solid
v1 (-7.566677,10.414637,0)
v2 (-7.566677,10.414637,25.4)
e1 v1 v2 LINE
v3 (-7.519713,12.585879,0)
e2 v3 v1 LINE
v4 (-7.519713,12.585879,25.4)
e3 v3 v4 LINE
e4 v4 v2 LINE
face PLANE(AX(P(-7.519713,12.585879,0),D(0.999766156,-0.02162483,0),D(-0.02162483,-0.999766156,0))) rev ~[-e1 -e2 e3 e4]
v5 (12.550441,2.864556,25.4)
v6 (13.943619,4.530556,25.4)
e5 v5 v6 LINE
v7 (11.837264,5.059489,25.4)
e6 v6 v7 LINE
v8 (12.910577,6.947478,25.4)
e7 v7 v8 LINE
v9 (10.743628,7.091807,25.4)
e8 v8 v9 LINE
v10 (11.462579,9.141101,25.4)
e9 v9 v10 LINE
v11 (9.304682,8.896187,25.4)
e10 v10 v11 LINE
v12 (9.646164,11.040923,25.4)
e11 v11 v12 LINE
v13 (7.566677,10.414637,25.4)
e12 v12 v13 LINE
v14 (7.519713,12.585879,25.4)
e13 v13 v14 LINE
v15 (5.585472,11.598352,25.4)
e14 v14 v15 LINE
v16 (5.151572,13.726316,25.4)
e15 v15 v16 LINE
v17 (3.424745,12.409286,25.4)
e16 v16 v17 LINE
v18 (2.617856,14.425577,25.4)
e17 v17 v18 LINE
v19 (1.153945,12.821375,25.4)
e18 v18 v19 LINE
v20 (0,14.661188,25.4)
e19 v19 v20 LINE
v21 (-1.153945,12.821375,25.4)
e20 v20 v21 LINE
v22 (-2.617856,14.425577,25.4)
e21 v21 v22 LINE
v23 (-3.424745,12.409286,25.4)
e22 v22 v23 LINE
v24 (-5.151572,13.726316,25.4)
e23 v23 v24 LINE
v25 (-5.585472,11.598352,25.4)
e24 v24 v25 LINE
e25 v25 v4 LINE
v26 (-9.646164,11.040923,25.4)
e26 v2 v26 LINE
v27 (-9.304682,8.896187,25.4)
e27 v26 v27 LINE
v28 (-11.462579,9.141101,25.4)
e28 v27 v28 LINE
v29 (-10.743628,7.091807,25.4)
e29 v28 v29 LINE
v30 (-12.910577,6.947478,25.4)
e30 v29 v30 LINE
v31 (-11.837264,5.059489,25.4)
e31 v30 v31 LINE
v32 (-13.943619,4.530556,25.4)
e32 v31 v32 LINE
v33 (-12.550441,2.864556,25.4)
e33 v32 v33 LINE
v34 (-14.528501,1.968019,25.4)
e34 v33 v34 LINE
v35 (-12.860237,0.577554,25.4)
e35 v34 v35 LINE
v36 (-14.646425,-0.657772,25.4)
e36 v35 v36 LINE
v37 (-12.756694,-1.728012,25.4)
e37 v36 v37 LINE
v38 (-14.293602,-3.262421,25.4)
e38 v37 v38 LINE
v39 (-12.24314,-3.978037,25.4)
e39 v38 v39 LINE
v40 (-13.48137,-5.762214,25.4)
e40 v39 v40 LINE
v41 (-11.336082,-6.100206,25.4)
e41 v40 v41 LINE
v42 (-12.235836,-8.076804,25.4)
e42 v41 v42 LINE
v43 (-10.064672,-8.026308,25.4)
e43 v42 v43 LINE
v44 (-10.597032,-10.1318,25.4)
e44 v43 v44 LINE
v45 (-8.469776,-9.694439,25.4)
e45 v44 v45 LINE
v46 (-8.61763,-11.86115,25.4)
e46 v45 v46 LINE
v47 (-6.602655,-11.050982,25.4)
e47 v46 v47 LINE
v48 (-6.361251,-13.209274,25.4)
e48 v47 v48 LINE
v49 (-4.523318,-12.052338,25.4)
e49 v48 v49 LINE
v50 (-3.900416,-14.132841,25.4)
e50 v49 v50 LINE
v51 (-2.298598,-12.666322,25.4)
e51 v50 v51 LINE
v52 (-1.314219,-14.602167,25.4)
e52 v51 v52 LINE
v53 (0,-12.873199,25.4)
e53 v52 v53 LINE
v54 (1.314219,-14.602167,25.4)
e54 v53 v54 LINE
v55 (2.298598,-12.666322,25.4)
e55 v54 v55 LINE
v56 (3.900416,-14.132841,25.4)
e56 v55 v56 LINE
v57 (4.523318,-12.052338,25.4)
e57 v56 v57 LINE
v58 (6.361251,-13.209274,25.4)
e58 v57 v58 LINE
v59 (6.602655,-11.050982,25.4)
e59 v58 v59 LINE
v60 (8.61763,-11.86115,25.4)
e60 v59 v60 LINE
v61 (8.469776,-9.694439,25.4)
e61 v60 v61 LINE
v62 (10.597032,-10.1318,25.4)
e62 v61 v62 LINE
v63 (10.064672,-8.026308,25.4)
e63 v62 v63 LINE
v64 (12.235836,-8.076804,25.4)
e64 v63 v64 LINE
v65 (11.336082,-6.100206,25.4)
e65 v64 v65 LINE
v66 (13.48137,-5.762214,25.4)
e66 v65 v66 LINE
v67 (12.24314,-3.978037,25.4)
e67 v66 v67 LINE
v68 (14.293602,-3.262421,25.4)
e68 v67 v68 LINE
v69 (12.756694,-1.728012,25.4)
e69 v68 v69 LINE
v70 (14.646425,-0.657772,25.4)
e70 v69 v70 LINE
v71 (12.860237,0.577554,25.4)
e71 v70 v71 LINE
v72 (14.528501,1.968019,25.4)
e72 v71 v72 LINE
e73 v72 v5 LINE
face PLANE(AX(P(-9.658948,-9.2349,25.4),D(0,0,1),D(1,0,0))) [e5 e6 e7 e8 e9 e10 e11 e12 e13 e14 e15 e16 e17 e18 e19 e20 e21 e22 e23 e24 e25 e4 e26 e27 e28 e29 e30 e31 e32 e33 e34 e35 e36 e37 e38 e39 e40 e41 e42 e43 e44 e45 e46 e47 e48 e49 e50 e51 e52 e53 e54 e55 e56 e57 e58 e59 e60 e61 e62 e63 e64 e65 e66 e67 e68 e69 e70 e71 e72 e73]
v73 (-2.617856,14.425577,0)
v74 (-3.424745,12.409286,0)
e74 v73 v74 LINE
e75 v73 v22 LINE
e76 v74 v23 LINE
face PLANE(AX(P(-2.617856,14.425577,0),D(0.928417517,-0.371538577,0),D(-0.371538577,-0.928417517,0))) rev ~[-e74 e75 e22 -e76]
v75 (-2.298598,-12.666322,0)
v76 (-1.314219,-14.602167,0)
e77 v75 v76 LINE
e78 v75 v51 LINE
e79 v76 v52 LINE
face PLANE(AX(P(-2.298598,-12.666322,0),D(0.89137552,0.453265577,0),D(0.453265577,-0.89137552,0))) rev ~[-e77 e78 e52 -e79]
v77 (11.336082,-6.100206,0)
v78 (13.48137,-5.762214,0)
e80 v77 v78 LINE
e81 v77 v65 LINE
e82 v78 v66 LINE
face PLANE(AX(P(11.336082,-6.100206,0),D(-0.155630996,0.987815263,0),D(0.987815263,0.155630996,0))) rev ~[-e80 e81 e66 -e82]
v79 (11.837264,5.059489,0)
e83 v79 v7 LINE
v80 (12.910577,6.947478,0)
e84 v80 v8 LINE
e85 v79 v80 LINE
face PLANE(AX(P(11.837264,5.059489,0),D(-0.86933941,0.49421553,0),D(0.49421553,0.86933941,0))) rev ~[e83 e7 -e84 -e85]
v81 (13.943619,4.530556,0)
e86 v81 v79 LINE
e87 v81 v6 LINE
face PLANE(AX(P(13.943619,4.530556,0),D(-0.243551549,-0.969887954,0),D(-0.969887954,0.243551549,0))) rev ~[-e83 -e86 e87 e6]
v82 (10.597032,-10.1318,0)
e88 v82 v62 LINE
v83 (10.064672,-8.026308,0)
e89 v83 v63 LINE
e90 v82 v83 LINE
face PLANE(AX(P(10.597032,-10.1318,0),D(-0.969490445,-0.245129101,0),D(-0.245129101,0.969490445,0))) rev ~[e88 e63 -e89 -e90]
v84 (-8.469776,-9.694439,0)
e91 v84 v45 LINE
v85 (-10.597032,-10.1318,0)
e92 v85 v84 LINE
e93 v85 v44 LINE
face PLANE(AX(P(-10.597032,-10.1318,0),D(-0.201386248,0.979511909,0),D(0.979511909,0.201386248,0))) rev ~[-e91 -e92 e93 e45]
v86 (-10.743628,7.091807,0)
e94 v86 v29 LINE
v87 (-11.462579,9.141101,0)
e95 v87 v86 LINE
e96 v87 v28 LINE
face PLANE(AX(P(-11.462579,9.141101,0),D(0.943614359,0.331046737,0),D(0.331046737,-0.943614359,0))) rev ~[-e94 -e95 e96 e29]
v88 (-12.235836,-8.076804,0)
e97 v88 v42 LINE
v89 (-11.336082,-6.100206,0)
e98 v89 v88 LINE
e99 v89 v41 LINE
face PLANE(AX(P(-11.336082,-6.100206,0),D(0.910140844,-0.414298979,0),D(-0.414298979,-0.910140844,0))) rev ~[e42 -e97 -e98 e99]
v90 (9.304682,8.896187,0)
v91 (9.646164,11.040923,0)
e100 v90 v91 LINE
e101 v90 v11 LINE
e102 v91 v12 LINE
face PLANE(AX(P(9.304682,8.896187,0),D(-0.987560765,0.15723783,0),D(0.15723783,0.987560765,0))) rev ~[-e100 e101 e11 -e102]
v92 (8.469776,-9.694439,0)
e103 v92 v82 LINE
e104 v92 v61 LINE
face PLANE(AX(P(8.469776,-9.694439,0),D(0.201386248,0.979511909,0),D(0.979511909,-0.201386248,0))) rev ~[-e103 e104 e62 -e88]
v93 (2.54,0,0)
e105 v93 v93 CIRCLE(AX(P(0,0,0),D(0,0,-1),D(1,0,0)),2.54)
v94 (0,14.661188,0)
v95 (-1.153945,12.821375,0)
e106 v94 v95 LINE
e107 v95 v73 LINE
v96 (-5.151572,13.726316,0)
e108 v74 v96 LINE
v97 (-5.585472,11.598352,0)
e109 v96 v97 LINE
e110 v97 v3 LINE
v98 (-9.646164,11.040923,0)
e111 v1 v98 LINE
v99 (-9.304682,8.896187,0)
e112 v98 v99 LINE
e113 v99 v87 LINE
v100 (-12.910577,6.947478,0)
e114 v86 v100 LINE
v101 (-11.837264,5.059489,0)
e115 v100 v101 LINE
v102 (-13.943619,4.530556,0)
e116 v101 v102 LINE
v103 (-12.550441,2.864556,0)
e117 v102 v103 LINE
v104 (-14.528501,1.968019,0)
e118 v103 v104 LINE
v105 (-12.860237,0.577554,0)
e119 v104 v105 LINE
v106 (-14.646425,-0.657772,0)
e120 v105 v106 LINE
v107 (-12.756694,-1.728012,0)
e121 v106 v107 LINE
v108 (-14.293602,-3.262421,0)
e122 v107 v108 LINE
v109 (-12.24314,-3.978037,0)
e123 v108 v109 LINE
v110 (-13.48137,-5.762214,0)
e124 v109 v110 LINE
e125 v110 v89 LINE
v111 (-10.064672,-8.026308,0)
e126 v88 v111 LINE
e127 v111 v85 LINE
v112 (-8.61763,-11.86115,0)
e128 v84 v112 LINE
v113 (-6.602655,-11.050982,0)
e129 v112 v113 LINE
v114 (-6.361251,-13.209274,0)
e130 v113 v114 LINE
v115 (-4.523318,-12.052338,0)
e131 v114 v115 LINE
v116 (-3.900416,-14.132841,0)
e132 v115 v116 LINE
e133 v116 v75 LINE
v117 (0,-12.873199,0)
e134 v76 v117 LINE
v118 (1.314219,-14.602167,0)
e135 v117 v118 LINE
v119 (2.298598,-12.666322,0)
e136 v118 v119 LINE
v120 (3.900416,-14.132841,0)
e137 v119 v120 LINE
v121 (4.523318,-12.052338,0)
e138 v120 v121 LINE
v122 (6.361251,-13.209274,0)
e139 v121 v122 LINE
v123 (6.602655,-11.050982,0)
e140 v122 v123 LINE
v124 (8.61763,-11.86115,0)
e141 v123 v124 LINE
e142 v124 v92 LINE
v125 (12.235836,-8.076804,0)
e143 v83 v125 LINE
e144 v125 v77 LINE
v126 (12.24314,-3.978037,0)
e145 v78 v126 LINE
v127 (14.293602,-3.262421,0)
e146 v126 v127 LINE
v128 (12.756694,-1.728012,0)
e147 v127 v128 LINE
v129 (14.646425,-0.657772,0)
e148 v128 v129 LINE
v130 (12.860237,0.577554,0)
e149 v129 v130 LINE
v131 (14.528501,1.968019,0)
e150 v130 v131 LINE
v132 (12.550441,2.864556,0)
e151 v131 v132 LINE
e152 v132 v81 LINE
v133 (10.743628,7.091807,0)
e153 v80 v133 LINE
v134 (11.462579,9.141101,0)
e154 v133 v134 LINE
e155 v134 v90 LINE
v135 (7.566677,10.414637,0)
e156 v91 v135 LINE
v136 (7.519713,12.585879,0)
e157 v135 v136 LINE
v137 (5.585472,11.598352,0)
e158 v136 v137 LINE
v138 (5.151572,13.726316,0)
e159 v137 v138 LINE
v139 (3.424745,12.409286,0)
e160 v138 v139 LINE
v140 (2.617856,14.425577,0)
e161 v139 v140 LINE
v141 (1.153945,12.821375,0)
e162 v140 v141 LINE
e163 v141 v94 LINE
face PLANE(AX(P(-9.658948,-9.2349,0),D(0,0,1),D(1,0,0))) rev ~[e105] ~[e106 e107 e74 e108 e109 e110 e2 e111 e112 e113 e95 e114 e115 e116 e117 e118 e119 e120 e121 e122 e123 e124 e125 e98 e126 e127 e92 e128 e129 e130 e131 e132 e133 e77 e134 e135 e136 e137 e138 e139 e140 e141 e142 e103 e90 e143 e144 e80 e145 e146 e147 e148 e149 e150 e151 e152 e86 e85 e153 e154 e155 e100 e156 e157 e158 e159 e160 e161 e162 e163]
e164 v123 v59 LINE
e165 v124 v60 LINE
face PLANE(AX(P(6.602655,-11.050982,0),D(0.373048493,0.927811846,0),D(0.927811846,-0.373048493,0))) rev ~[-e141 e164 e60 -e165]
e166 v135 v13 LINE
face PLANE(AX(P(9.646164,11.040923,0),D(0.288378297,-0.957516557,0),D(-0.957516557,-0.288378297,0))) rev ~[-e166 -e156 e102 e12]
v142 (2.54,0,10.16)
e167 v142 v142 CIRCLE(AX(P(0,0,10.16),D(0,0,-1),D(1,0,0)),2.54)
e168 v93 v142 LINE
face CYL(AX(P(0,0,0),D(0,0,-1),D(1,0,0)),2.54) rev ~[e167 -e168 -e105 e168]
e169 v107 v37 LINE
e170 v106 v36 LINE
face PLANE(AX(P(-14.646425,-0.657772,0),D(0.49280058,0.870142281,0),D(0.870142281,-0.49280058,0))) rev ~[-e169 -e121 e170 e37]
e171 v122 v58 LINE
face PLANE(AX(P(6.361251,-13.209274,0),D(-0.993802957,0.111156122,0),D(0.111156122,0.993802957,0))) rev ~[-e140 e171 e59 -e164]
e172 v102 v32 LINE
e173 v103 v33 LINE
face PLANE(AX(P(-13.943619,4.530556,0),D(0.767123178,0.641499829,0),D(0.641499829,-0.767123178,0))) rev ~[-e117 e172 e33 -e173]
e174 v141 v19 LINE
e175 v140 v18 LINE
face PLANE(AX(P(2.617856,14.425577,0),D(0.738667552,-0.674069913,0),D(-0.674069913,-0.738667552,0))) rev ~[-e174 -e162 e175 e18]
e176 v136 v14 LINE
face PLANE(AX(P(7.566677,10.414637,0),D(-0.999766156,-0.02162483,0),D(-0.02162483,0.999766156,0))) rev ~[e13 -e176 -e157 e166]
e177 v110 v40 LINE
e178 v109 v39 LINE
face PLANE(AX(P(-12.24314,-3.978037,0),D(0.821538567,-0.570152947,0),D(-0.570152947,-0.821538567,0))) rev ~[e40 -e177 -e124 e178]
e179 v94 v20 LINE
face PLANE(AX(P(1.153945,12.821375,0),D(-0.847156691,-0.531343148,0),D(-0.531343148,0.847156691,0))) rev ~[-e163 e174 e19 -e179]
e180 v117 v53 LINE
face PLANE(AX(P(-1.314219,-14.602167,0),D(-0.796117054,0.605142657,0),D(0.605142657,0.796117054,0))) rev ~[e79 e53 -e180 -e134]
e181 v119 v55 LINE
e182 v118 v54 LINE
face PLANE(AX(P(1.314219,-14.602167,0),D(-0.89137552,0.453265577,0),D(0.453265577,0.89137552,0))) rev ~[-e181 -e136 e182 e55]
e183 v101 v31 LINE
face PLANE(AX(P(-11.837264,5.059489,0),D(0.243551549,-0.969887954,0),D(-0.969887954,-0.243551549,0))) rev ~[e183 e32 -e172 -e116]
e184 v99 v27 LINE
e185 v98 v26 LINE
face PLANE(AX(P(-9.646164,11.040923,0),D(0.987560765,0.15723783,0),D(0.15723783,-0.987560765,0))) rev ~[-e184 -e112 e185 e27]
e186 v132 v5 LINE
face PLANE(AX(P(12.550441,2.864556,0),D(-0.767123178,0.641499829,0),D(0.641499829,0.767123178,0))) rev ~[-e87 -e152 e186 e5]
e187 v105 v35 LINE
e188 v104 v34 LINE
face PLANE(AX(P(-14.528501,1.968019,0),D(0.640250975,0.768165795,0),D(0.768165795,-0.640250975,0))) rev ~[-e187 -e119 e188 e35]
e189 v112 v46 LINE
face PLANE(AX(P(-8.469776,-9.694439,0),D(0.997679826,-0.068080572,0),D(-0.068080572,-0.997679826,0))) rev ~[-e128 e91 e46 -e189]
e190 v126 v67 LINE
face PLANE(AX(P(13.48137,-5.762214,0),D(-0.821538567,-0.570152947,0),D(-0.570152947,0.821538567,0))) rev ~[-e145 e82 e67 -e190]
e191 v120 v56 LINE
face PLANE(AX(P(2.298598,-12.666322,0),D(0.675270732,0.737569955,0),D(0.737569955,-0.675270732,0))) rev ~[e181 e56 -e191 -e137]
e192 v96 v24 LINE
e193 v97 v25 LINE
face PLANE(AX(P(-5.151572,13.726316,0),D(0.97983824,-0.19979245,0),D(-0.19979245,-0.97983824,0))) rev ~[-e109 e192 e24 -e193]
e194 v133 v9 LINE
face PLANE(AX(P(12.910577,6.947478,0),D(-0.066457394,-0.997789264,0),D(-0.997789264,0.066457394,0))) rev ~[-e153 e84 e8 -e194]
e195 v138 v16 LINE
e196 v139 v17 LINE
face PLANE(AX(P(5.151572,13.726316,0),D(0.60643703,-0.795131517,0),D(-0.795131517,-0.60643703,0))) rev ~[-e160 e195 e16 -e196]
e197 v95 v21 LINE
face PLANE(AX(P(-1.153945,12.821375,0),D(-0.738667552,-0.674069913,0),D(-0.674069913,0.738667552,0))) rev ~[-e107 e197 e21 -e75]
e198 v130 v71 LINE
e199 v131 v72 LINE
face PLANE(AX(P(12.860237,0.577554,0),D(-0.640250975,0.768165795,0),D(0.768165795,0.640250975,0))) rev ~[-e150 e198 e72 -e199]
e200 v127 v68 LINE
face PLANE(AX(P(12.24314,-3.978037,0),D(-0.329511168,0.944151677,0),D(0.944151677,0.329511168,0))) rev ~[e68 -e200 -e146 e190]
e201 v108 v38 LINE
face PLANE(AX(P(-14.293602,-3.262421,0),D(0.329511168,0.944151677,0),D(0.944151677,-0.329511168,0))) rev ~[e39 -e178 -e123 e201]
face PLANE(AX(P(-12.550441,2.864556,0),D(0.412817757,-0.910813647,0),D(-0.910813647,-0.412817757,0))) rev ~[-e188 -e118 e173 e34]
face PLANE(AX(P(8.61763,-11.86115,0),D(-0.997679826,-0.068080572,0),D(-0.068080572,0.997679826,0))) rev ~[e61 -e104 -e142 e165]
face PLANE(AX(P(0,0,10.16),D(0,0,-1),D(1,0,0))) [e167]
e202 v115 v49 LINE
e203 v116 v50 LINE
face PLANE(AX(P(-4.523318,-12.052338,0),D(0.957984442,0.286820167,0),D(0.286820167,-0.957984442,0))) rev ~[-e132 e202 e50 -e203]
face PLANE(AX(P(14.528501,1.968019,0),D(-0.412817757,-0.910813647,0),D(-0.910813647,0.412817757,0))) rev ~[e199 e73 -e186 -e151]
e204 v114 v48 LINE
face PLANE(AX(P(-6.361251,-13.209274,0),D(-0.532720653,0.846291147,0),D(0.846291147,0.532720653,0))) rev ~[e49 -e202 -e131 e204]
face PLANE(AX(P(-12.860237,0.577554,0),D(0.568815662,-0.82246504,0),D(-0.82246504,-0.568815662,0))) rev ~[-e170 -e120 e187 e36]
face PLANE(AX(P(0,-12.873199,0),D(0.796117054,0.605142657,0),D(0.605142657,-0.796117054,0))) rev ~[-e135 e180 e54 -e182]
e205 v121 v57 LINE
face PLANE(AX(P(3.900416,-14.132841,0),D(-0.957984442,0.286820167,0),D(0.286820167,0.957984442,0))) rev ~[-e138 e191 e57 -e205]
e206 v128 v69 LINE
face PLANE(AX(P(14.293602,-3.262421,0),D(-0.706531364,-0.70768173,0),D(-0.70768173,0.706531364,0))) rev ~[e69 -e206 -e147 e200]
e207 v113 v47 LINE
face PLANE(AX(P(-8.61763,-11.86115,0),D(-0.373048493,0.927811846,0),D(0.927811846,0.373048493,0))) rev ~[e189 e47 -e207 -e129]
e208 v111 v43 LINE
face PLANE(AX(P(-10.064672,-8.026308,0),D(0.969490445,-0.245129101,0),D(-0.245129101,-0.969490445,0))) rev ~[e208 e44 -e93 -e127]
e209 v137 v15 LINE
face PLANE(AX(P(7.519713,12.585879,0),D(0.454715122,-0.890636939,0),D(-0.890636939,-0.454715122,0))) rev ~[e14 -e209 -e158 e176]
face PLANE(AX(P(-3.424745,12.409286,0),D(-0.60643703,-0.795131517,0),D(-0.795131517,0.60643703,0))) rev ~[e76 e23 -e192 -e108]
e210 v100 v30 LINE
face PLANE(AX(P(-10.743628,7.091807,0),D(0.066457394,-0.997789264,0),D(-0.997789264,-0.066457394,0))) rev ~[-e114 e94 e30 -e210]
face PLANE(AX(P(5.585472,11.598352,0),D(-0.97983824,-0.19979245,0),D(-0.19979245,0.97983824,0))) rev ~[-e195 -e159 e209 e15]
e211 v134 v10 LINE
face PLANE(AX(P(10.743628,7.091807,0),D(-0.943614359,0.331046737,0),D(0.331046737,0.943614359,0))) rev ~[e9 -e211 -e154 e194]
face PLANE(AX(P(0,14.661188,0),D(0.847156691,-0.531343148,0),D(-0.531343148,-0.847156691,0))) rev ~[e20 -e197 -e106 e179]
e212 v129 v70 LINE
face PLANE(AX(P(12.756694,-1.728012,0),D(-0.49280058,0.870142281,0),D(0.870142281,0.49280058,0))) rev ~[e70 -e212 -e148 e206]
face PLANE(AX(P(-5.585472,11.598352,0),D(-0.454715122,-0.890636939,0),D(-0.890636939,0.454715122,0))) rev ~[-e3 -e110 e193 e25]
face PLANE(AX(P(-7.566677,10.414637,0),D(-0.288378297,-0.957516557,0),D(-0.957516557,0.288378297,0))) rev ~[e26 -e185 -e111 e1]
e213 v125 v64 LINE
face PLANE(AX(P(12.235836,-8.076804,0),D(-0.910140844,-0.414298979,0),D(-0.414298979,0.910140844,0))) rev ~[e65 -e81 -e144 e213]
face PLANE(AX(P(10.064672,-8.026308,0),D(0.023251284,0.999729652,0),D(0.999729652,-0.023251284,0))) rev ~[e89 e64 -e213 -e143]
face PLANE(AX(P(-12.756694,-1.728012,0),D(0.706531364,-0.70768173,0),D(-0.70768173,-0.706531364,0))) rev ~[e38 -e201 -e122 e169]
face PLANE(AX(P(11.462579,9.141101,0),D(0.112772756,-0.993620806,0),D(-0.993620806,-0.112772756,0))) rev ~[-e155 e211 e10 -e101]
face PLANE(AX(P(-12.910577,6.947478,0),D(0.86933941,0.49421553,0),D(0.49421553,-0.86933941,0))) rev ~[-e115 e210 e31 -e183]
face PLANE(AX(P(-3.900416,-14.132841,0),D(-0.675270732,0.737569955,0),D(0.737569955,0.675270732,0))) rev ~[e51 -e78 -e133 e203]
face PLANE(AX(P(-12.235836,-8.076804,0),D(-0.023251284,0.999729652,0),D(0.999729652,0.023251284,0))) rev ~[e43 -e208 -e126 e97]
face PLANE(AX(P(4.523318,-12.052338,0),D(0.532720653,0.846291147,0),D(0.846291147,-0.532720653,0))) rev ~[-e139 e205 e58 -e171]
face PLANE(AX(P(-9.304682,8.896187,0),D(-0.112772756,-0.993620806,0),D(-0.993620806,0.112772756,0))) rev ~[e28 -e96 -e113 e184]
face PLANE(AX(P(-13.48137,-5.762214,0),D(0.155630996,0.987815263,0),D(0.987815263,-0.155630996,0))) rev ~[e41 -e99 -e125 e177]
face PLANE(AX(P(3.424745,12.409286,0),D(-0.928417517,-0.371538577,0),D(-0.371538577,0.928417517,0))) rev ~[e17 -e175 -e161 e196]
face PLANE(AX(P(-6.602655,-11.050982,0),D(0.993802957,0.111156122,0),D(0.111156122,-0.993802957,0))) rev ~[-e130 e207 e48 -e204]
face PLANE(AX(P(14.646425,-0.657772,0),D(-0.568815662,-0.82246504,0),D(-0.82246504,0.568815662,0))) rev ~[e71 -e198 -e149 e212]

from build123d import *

# Parameters (mm, degrees)
F1_DEPTH = 25.4
F2_R     = 2.54
F3_DEPTH = 10.16


with BuildPart() as f1:
    # F0 (on Top) → F1 (new body)
    with BuildSketch(Plane.XY):
        with BuildLine():
            Line((-8.4697762195, -9.6944389239), (-8.4549061431, -9.4765269014))
            ThreePointArc((-8.4549061431, -9.4765269014), (-9.1794947706, -8.7764956421), (-9.8463125991, -8.0212298434))
            Line((-9.8463125991, -8.0212298434), (-10.0646723422, -8.0263083607))
            Line((-10.0646723422, -8.0263083607), (-10.5970315556, -10.1317995806))
            Line((-10.5970315556, -10.1317995806), (-8.4697762195, -9.6944389239))
        make_face()
        with BuildLine():
            ThreePointArc((-10.5256917391, 7.1063220736), (-9.9292598273, 7.9183204836), (-9.2703384989, 8.6804852466))
            Line((-9.2703384989, 8.6804852466), (-9.3046821958, 8.8961870761))
            Line((-9.3046821958, 8.8961870761), (-11.4625785344, 9.1411013491))
            Line((-11.4625785344, 9.1411013491), (-10.7436276648, 7.0918065299))
            Line((-10.7436276648, 7.0918065299), (-10.5256917391, 7.1063220736))
        make_face()
        with BuildLine():
            ThreePointArc((5.6291101888, 11.3843365412), (6.5138208231, 10.9022996787), (7.3575369752, 10.3516496105))
            Line((7.3575369752, 10.3516496105), (7.5666765851, 10.4146368498))
            Line((7.5666765851, 10.4146368498), (7.5197128529, 12.5858793551))
            Line((7.5197128529, 12.5858793551), (5.5854717631, 11.598351626))
            Line((5.5854717631, 11.598351626), (5.6291101888, 11.3843365412))
        make_face()
        with BuildLine():
            Line((8.4697762195, -9.6944389239), (8.2558324115, -9.6504523828))
            ThreePointArc((8.2558324115, -9.6504523828), (7.4648727041, -10.2745158286), (6.626933106, -10.8339170021))
            Line((6.626933106, -10.8339170021), (6.6026545201, -11.0509822435))
            Line((6.6026545201, -11.0509822435), (8.617630227, -11.8611504418))
            Line((8.617630227, -11.8611504418), (8.4697762195, -9.6944389239))
        make_face()
        with BuildLine():
            ThreePointArc((7.5713998544, 10.1962691336), (8.3558218194, 9.5640076182), (9.0876567396, 8.8715553869))
            Line((9.0876567396, 8.8715553869), (9.3046821958, 8.8961870761))
            Line((9.3046821958, 8.8961870761), (9.6461635097, 11.0409225193))
            Line((9.6461635097, 11.0409225193), (7.5666765851, 10.4146368498))
            Line((7.5666765851, 10.4146368498), (7.5713998544, 10.1962691336))
        make_face()
        with BuildLine():
            ThreePointArc((9.2703384989, 8.6804852466), (9.9292598273, 7.9183204836), (10.5256917391, 7.1063220736))
            Line((10.5256917391, 7.1063220736), (10.7436276648, 7.0918065299))
            Line((10.7436276648, 7.0918065299), (11.4625785344, 9.1411013491))
            Line((11.4625785344, 9.1411013491), (9.3046821958, 8.8961870761))
            Line((9.3046821958, 8.8961870761), (9.2703384989, 8.6804852466))
        make_face()
        with BuildLine():
            ThreePointArc((10.6713208363, 6.8857034214), (11.1835632546, 6.0181320134), (11.6254223454, 5.1126857218))
            Line((11.6254223454, 5.1126857218), (11.8372641008, 5.0594894867))
            Line((11.8372641008, 5.0594894867), (12.9105768535, 6.9474776603))
            Line((12.9105768535, 6.9474776603), (10.7436276648, 7.0918065299))
            Line((10.7436276648, 7.0918065299), (10.6713208363, 6.8857034214))
        make_face()
        with BuildLine():
            ThreePointArc((11.7293181417, 4.8696094227), (12.0784177569, 3.9245158286), (12.3515023122, 2.9547234442))
            Line((12.3515023122, 2.9547234442), (12.5504411288, 2.8645562884))
            Line((12.5504411288, 2.8645562884), (13.9436186098, 4.5305563231))
            Line((13.9436186098, 4.5305563231), (11.8372641008, 5.0594894867))
            Line((11.8372641008, 5.0594894867), (11.7293181417, 4.8696094227))
        make_face()
        with BuildLine():
            Line((6.6026545201, -11.0509822435), (6.4000029773, -10.9695014422))
            ThreePointArc((6.4000029773, -10.9695014422), (5.5103234868, -11.4423046224), (4.5859649862, -11.8430960962))
            Line((4.5859649862, -11.8430960962), (4.5233180717, -12.052337901))
            Line((4.5233180717, -12.052337901), (6.3612511723, -13.2092741683))
            Line((6.3612511723, -13.2092741683), (6.6026545201, -11.0509822435))
        make_face()
        with BuildLine():
            Line((-10.0646723422, -8.0263083607), (-10.01113154, -7.8145534287))
            ThreePointArc((-10.01113154, -7.8145534287), (-10.5990803223, -6.9963916644), (-11.1203241981, -6.134198377))
            Line((-11.1203241981, -6.134198377), (-11.3360816146, -6.1002056428))
            Line((-11.3360816146, -6.1002056428), (-12.2358355707, -8.0768043445))
            Line((-12.2358355707, -8.0768043445), (-10.0646723422, -8.0263083607))
        make_face()
        with BuildLine():
            ThreePointArc((-12.3515023122, 2.9547234442), (-12.0784177569, 3.9245158286), (-11.7293181417, 4.8696094227))
            Line((-11.7293181417, 4.8696094227), (-11.8372641008, 5.0594894867))
            Line((-11.8372641008, 5.0594894867), (-13.9436186098, 4.5305563231))
            Line((-13.9436186098, 4.5305563231), (-12.5504411288, 2.8645562884))
            Line((-12.5504411288, 2.8645562884), (-12.3515023122, 2.9547234442))
        make_face()
        with BuildLine():
            ThreePointArc((-9.0876567396, 8.8715553869), (-8.3558218194, 9.5640076182), (-7.5713998544, 10.1962691336))
            Line((-7.5713998544, 10.1962691336), (-7.5666765851, 10.4146368498))
            Line((-7.5666765851, 10.4146368498), (-9.6461635097, 11.0409225193))
            Line((-9.6461635097, 11.0409225193), (-9.3046821958, 8.8961870761))
            Line((-9.3046821958, 8.8961870761), (-9.0876567396, 8.8715553869))
        make_face()
        with BuildLine():
            Line((11.3360816146, -6.1002056428), (11.1203241981, -6.134198377))
            ThreePointArc((11.1203241981, -6.134198377), (10.5990803223, -6.9963916644), (10.01113154, -7.8145534287))
            Line((10.01113154, -7.8145534287), (10.0646723422, -8.0263083607))
            Line((10.0646723422, -8.0263083607), (12.2358355707, -8.0768043445))
            Line((12.2358355707, -8.0768043445), (11.3360816146, -6.1002056428))
        make_face()
        with BuildLine():
            Line((-4.5233180717, -12.052337901), (-4.5859649862, -11.8430960962))
            ThreePointArc((-4.5859649862, -11.8430960962), (-5.5103234868, -11.4423046224), (-6.4000029773, -10.9695014422))
            Line((-6.4000029773, -10.9695014422), (-6.6026545201, -11.0509822435))
            Line((-6.6026545201, -11.0509822435), (-6.3612511723, -13.2092741683))
            Line((-6.3612511723, -13.2092741683), (-4.5233180717, -12.052337901))
        make_face()
        with BuildLine():
            ThreePointArc((12.4103255111, 2.6970021705), (12.5850619745, 1.7047624759), (12.6805948318, 0.7017939239))
            Line((12.6805948318, 0.7017939239), (12.8602366525, 0.577553894))
            Line((12.8602366525, 0.577553894), (14.5285009911, 1.9680191779))
            Line((14.5285009911, 1.9680191779), (12.5504411288, 2.8645562884))
            Line((12.5504411288, 2.8645562884), (12.4103255111, 2.6970021705))
        make_face()
        with BuildLine():
            ThreePointArc((3.5058962901, 12.2065020052), (4.4624602658, 11.8901828571), (5.3909399186, 11.4990332982))
            Line((5.3909399186, 11.4990332982), (5.5854717631, 11.598351626))
            Line((5.5854717631, 11.598351626), (5.1515724377, 13.7263156728))
            Line((5.1515724377, 13.7263156728), (3.4247452829, 12.4092858378))
            Line((3.4247452829, 12.4092858378), (3.5058962901, 12.2065020052))
        make_face()
        with BuildLine():
            ThreePointArc((1.27, 12.6363404513), (2.2676725639, 12.4959057752), (3.2510736174, 12.2768285943))
            Line((3.2510736174, 12.2768285943), (3.4247452829, 12.4092858378))
            Line((3.4247452829, 12.4092858378), (2.6178562457, 14.4255769108))
            Line((2.6178562457, 14.4255769108), (1.1539446714, 12.8213753924))
            Line((1.1539446714, 12.8213753924), (1.27, 12.6363404513))
        make_face()
        with BuildLine():
            ThreePointArc((-11.6254223454, 5.1126857218), (-11.1835632546, 6.0181320134), (-10.6713208363, 6.8857034214))
            Line((-10.6713208363, 6.8857034214), (-10.7436276648, 7.0918065299))
            Line((-10.7436276648, 7.0918065299), (-12.9105768535, 6.9474776603))
            Line((-12.9105768535, 6.9474776603), (-11.8372641008, 5.0594894867))
            Line((-11.8372641008, 5.0594894867), (-11.6254223454, 5.1126857218))
        make_face()
        with BuildLine():
            ThreePointArc((12.6021225999, -1.5736918305), (12.6755070316, -0.788366343), (12.7, 0))
            ThreePointArc((12.7, 0), (12.6981135617, 0.2188880379), (12.6924548074, 0.4377110493))
            ThreePointArc((12.6924548074, 0.4377110493), (12.6872119451, 0.5697833455), (12.6805948318, 0.7017939239))
            ThreePointArc((12.6805948318, 0.7017939239), (12.5850619745, 1.7047624759), (12.4103255111, 2.6970021705))
            ThreePointArc((12.4103255111, 2.6970021705), (12.3815844847, 2.8260158612), (12.3515023122, 2.9547234442))
            ThreePointArc((12.3515023122, 2.9547234442), (12.0784177569, 3.9245158286), (11.7293181417, 4.8696094227))
            ThreePointArc((11.7293181417, 4.8696094227), (11.6780027114, 4.991417902), (11.6254223454, 5.1126857218))
            ThreePointArc((11.6254223454, 5.1126857218), (11.1835632546, 6.0181320134), (10.6713208363, 6.8857034214))
            ThreePointArc((10.6713208363, 6.8857034214), (10.5990803223, 6.9963916644), (10.5256917391, 7.1063220736))
            ThreePointArc((10.5256917391, 7.1063220736), (9.9292598273, 7.9183204836), (9.2703384989, 8.6804852466))
            ThreePointArc((9.2703384989, 8.6804852466), (9.1794947706, 8.7764956421), (9.0876567396, 8.8715553869))
            ThreePointArc((9.0876567396, 8.8715553869), (8.3558218194, 9.5640076182), (7.5713998544, 10.1962691336))
            ThreePointArc((7.5713998544, 10.1962691336), (7.4648727041, 10.2745158286), (7.3575369752, 10.3516496105))
            ThreePointArc((7.3575369752, 10.3516496105), (6.5138208231, 10.9022996787), (5.6291101888, 11.3843365412))
            ThreePointArc((5.6291101888, 11.3843365412), (5.5103234868, 11.4423046224), (5.3909399186, 11.4990332982))
            ThreePointArc((5.3909399186, 11.4990332982), (4.4624602658, 11.8901828571), (3.5058962901, 12.2065020052))
            ThreePointArc((3.5058962901, 12.2065020052), (3.3786679387, 12.2423283308), (3.2510736174, 12.2768285943))
            ThreePointArc((3.2510736174, 12.2768285943), (2.2676725639, 12.4959057752), (1.27, 12.6363404513))
            ThreePointArc((1.27, 12.6363404513), (1.1384192231, 12.6488735337), (1.0067151351, 12.660036518))
            ThreePointArc((1.0067151351, 12.660036518), (0, 12.7), (-1.0067151351, 12.660036518))
            ThreePointArc((-1.0067151351, 12.660036518), (-1.1384192231, 12.6488735337), (-1.27, 12.6363404513))
            ThreePointArc((-1.27, 12.6363404513), (-2.2676725639, 12.4959057752), (-3.2510736174, 12.2768285943))
            ThreePointArc((-3.2510736174, 12.2768285943), (-3.3786679387, 12.2423283308), (-3.5058962901, 12.2065020052))
            ThreePointArc((-3.5058962901, 12.2065020052), (-4.4624602658, 11.8901828571), (-5.3909399186, 11.4990332982))
            ThreePointArc((-5.3909399186, 11.4990332982), (-5.5103234868, 11.4423046224), (-5.6291101888, 11.3843365412))
            ThreePointArc((-5.6291101888, 11.3843365412), (-6.5138208231, 10.9022996787), (-7.3575369752, 10.3516496105))
            ThreePointArc((-7.3575369752, 10.3516496105), (-7.4648727041, 10.2745158286), (-7.5713998544, 10.1962691336))
            ThreePointArc((-7.5713998544, 10.1962691336), (-8.3558218194, 9.5640076182), (-9.0876567396, 8.8715553869))
            ThreePointArc((-9.0876567396, 8.8715553869), (-9.1794947706, 8.7764956421), (-9.2703384989, 8.6804852466))
            ThreePointArc((-9.2703384989, 8.6804852466), (-9.9292598273, 7.9183204836), (-10.5256917391, 7.1063220736))
            ThreePointArc((-10.5256917391, 7.1063220736), (-10.5990803223, 6.9963916644), (-10.6713208363, 6.8857034214))
            ThreePointArc((-10.6713208363, 6.8857034214), (-11.1835632546, 6.0181320134), (-11.6254223454, 5.1126857218))
            ThreePointArc((-11.6254223454, 5.1126857218), (-11.6780027114, 4.991417902), (-11.7293181417, 4.8696094227))
            ThreePointArc((-11.7293181417, 4.8696094227), (-12.0784177569, 3.9245158286), (-12.3515023122, 2.9547234442))
            ThreePointArc((-12.3515023122, 2.9547234442), (-12.3815844847, 2.8260158612), (-12.4103255111, 2.6970021705))
            ThreePointArc((-12.4103255111, 2.6970021705), (-12.5850619745, 1.7047624759), (-12.6805948318, 0.7017939239))
            ThreePointArc((-12.6805948318, 0.7017939239), (-12.6872119451, 0.5697833455), (-12.6924548074, 0.4377110493))
            ThreePointArc((-12.6924548074, 0.4377110493), (-12.6872119451, -0.5697833455), (-12.6021225999, -1.5736918305))
            ThreePointArc((-12.6021225999, -1.5736918305), (-12.5850619745, -1.7047624759), (-12.5666381627, -1.8356484651))
            ThreePointArc((-12.5666381627, -1.8356484651), (-12.3815844847, -2.8260158612), (-12.1186077785, -3.7985978347))
            ThreePointArc((-12.1186077785, -3.7985978347), (-12.0784177569, -3.9245158286), (-12.0369194276, -4.0500087275))
            ThreePointArc((-12.0369194276, -4.0500087275), (-11.6780027114, -4.991417902), (-11.245590932, -5.901413779))
            ThreePointArc((-11.245590932, -5.901413779), (-11.1835632546, -6.0181320134), (-11.1203241981, -6.134198377))
            ThreePointArc((-11.1203241981, -6.134198377), (-10.5990803223, -6.9963916644), (-10.01113154, -7.8145534287))
            ThreePointArc((-10.01113154, -7.8145534287), (-9.9292598273, -7.9183204836), (-9.8463125991, -8.0212298434))
            ThreePointArc((-9.8463125991, -8.0212298434), (-9.1794947706, -8.7764956421), (-8.4549061431, -9.4765269014))
            ThreePointArc((-8.4549061431, -9.4765269014), (-8.3558218194, -9.5640076182), (-8.2558324115, -9.6504523828))
            ThreePointArc((-8.2558324115, -9.6504523828), (-7.4648727041, -10.2745158286), (-6.626933106, -10.8339170021))
            ThreePointArc((-6.626933106, -10.8339170021), (-6.5138208231, -10.9022996787), (-6.4000029773, -10.9695014422))
            ThreePointArc((-6.4000029773, -10.9695014422), (-5.5103234868, -11.4423046224), (-4.5859649862, -11.8430960962))
            ThreePointArc((-4.5859649862, -11.8430960962), (-4.4624602658, -11.8901828571), (-4.3384721815, -11.9359816995))
            ThreePointArc((-4.3384721815, -11.9359816995), (-3.3786679387, -12.2423283308), (-2.3976001785, -12.4716283373))
            ThreePointArc((-2.3976001785, -12.4716283373), (-2.2676725639, -12.4959057752), (-2.1374993201, -12.518829684))
            ThreePointArc((-2.1374993201, -12.518829684), (-1.1384192231, -12.6488735337), (-0.1321745283, -12.6993121819))
            ThreePointArc((-0.1321745283, -12.6993121819), (0, -12.7), (0.1321745283, -12.6993121819))
            ThreePointArc((0.1321745283, -12.6993121819), (1.1384192231, -12.6488735337), (2.1374993201, -12.518829684))
            ThreePointArc((2.1374993201, -12.518829684), (2.2676725639, -12.4959057752), (2.3976001785, -12.4716283373))
            ThreePointArc((2.3976001785, -12.4716283373), (3.3786679387, -12.2423283308), (4.3384721815, -11.9359816995))
            ThreePointArc((4.3384721815, -11.9359816995), (4.4624602658, -11.8901828571), (4.5859649862, -11.8430960962))
            ThreePointArc((4.5859649862, -11.8430960962), (5.5103234868, -11.4423046224), (6.4000029773, -10.9695014422))
            ThreePointArc((6.4000029773, -10.9695014422), (6.5138208231, -10.9022996787), (6.626933106, -10.8339170021))
            ThreePointArc((6.626933106, -10.8339170021), (7.4648727041, -10.2745158286), (8.2558324115, -9.6504523828))
            ThreePointArc((8.2558324115, -9.6504523828), (8.3558218194, -9.5640076182), (8.4549061431, -9.4765269014))
            ThreePointArc((8.4549061431, -9.4765269014), (9.1794947706, -8.7764956421), (9.8463125991, -8.0212298434))
            ThreePointArc((9.8463125991, -8.0212298434), (9.9292598273, -7.9183204836), (10.01113154, -7.8145534287))
            ThreePointArc((10.01113154, -7.8145534287), (10.5990803223, -6.9963916644), (11.1203241981, -6.134198377))
            ThreePointArc((11.1203241981, -6.134198377), (11.1835632546, -6.0181320134), (11.245590932, -5.901413779))
            ThreePointArc((11.245590932, -5.901413779), (11.6780027114, -4.991417902), (12.0369194276, -4.0500087275))
            ThreePointArc((12.0369194276, -4.0500087275), (12.0784177569, -3.9245158286), (12.1186077785, -3.7985978347))
            ThreePointArc((12.1186077785, -3.7985978347), (12.3815844847, -2.8260158612), (12.5666381627, -1.8356484651))
            ThreePointArc((12.5666381627, -1.8356484651), (12.5850619745, -1.7047624759), (12.6021225999, -1.5736918305))
        make_face()
        with BuildLine():
            Line((-6.6026545201, -11.0509822435), (-6.626933106, -10.8339170021))
            ThreePointArc((-6.626933106, -10.8339170021), (-7.4648727041, -10.2745158286), (-8.2558324115, -9.6504523828))
            Line((-8.2558324115, -9.6504523828), (-8.4697762195, -9.6944389239))
            Line((-8.4697762195, -9.6944389239), (-8.617630227, -11.8611504418))
            Line((-8.617630227, -11.8611504418), (-6.6026545201, -11.0509822435))
        make_face()
        with BuildLine():
            ThreePointArc((-1.0067151351, 12.660036518), (0, 12.7), (1.0067151351, 12.660036518))
            Line((1.0067151351, 12.660036518), (1.1539446714, 12.8213753924))
            Line((1.1539446714, 12.8213753924), (0, 14.6611882374))
            Line((0, 14.6611882374), (-1.1539446714, 12.8213753924))
            Line((-1.1539446714, 12.8213753924), (-1.0067151351, 12.660036518))
        make_face()
        with BuildLine():
            Line((12.2431398966, -3.9780372961), (12.0369194276, -4.0500087275))
            ThreePointArc((12.0369194276, -4.0500087275), (11.6780027114, -4.991417902), (11.245590932, -5.901413779))
            Line((11.245590932, -5.901413779), (11.3360816146, -6.1002056428))
            Line((11.3360816146, -6.1002056428), (13.4813697629, -5.7622139711))
            Line((13.4813697629, -5.7622139711), (12.2431398966, -3.9780372961))
        make_face()
        with BuildLine():
            Line((-2.2985984587, -12.6663215016), (-2.3976001785, -12.4716283373))
            ThreePointArc((-2.3976001785, -12.4716283373), (-3.3786679387, -12.2423283308), (-4.3384721815, -11.9359816995))
            Line((-4.3384721815, -11.9359816995), (-4.5233180717, -12.052337901))
            Line((-4.5233180717, -12.052337901), (-3.9004162709, -14.1328409545))
            Line((-3.9004162709, -14.1328409545), (-2.2985984587, -12.6663215016))
        make_face()
        with BuildLine():
            ThreePointArc((-12.6805948318, 0.7017939239), (-12.5850619745, 1.7047624759), (-12.4103255111, 2.6970021705))
            Line((-12.4103255111, 2.6970021705), (-12.5504411288, 2.8645562884))
            Line((-12.5504411288, 2.8645562884), (-14.5285009911, 1.9680191779))
            Line((-14.5285009911, 1.9680191779), (-12.8602366525, 0.577553894))
            Line((-12.8602366525, 0.577553894), (-12.6805948318, 0.7017939239))
        make_face()
        with BuildLine():
            Line((10.0646723422, -8.0263083607), (9.8463125991, -8.0212298434))
            ThreePointArc((9.8463125991, -8.0212298434), (9.1794947706, -8.7764956421), (8.4549061431, -9.4765269014))
            Line((8.4549061431, -9.4765269014), (8.4697762195, -9.6944389239))
            Line((8.4697762195, -9.6944389239), (10.5970315556, -10.1317995806))
            Line((10.5970315556, -10.1317995806), (10.0646723422, -8.0263083607))
        make_face()
        with BuildLine():
            Line((-12.2431398966, -3.9780372961), (-12.1186077785, -3.7985978347))
            ThreePointArc((-12.1186077785, -3.7985978347), (-12.3815844847, -2.8260158612), (-12.5666381627, -1.8356484651))
            Line((-12.5666381627, -1.8356484651), (-12.7566935886, -1.7280115577))
            Line((-12.7566935886, -1.7280115577), (-14.2936016384, -3.2624212995))
            Line((-14.2936016384, -3.2624212995), (-12.2431398966, -3.9780372961))
        make_face()
        with BuildLine():
            Line((2.2985984587, -12.6663215016), (2.1374993201, -12.518829684))
            ThreePointArc((2.1374993201, -12.518829684), (1.1384192231, -12.6488735337), (0.1321745283, -12.6993121819))
            Line((0.1321745283, -12.6993121819), (0, -12.8731991074))
            Line((0, -12.8731991074), (1.3142187813, -14.6021666038))
            Line((1.3142187813, -14.6021666038), (2.2985984587, -12.6663215016))
        make_face()
        with BuildLine():
            ThreePointArc((12.6924548074, 0.4377110493), (12.6981135617, 0.2188880379), (12.7, 0))
            ThreePointArc((12.7, 0), (12.6755070316, -0.788366343), (12.6021225999, -1.5736918305))
            Line((12.6021225999, -1.5736918305), (12.7566935886, -1.7280115577))
            Line((12.7566935886, -1.7280115577), (14.6464253964, -0.657771723))
            Line((14.6464253964, -0.657771723), (12.8602366525, 0.577553894))
            Line((12.8602366525, 0.577553894), (12.6924548074, 0.4377110493))
        make_face()
        with BuildLine():
            ThreePointArc((-5.3909399186, 11.4990332982), (-4.4624602658, 11.8901828571), (-3.5058962901, 12.2065020052))
            Line((-3.5058962901, 12.2065020052), (-3.4247452829, 12.4092858378))
            Line((-3.4247452829, 12.4092858378), (-5.1515724377, 13.7263156728))
            Line((-5.1515724377, 13.7263156728), (-5.5854717631, 11.598351626))
            Line((-5.5854717631, 11.598351626), (-5.3909399186, 11.4990332982))
        make_face()
        with BuildLine():
            Line((0, -12.8731991074), (-0.1321745283, -12.6993121819))
            ThreePointArc((-0.1321745283, -12.6993121819), (-1.1384192231, -12.6488735337), (-2.1374993201, -12.518829684))
            Line((-2.1374993201, -12.518829684), (-2.2985984587, -12.6663215016))
            Line((-2.2985984587, -12.6663215016), (-1.3142187813, -14.6021666038))
            Line((-1.3142187813, -14.6021666038), (0, -12.8731991074))
        make_face()
        with BuildLine():
            Line((12.7566935886, -1.7280115577), (12.5666381627, -1.8356484651))
            ThreePointArc((12.5666381627, -1.8356484651), (12.3815844847, -2.8260158612), (12.1186077785, -3.7985978347))
            Line((12.1186077785, -3.7985978347), (12.2431398966, -3.9780372961))
            Line((12.2431398966, -3.9780372961), (14.2936016384, -3.2624212995))
            Line((14.2936016384, -3.2624212995), (12.7566935886, -1.7280115577))
        make_face()
        with BuildLine():
            Line((-12.7566935886, -1.7280115577), (-12.6021225999, -1.5736918305))
            ThreePointArc((-12.6021225999, -1.5736918305), (-12.6872119451, -0.5697833455), (-12.6924548074, 0.4377110493))
            Line((-12.6924548074, 0.4377110493), (-12.8602366525, 0.577553894))
            Line((-12.8602366525, 0.577553894), (-14.6464253964, -0.657771723))
            Line((-14.6464253964, -0.657771723), (-12.7566935886, -1.7280115577))
        make_face()
        with BuildLine():
            ThreePointArc((-3.2510736174, 12.2768285943), (-2.2676725639, 12.4959057752), (-1.27, 12.6363404513))
            Line((-1.27, 12.6363404513), (-1.1539446714, 12.8213753924))
            Line((-1.1539446714, 12.8213753924), (-2.6178562457, 14.4255769108))
            Line((-2.6178562457, 14.4255769108), (-3.4247452829, 12.4092858378))
            Line((-3.4247452829, 12.4092858378), (-3.2510736174, 12.2768285943))
        make_face()
        with BuildLine():
            ThreePointArc((-7.3575369752, 10.3516496105), (-6.5138208231, 10.9022996787), (-5.6291101888, 11.3843365412))
            Line((-5.6291101888, 11.3843365412), (-5.5854717631, 11.598351626))
            Line((-5.5854717631, 11.598351626), (-7.5197128529, 12.5858793551))
            Line((-7.5197128529, 12.5858793551), (-7.5666765851, 10.4146368498))
            Line((-7.5666765851, 10.4146368498), (-7.3575369752, 10.3516496105))
        make_face()
        with BuildLine():
            Line((-11.3360816146, -6.1002056428), (-11.245590932, -5.901413779))
            ThreePointArc((-11.245590932, -5.901413779), (-11.6780027114, -4.991417902), (-12.0369194276, -4.0500087275))
            Line((-12.0369194276, -4.0500087275), (-12.2431398966, -3.9780372961))
            Line((-12.2431398966, -3.9780372961), (-13.4813697629, -5.7622139711))
            Line((-13.4813697629, -5.7622139711), (-11.3360816146, -6.1002056428))
        make_face()
        with BuildLine():
            Line((4.5233180717, -12.052337901), (4.3384721815, -11.9359816995))
            ThreePointArc((4.3384721815, -11.9359816995), (3.3786679387, -12.2423283308), (2.3976001785, -12.4716283373))
            Line((2.3976001785, -12.4716283373), (2.2985984587, -12.6663215016))
            Line((2.2985984587, -12.6663215016), (3.9004162709, -14.1328409545))
            Line((3.9004162709, -14.1328409545), (4.5233180717, -12.052337901))
        make_face()
        with BuildLine():
            ThreePointArc((5.3909399186, 11.4990332982), (5.5103234868, 11.4423046224), (5.6291101888, 11.3843365412))
            Line((5.6291101888, 11.3843365412), (5.5854717631, 11.598351626))
            Line((5.5854717631, 11.598351626), (5.3909399186, 11.4990332982))
        make_face()
        with BuildLine():
            Line((4.5233180717, -12.052337901), (4.5859649862, -11.8430960962))
            ThreePointArc((4.5859649862, -11.8430960962), (4.4624602658, -11.8901828571), (4.3384721815, -11.9359816995))
            Line((4.3384721815, -11.9359816995), (4.5233180717, -12.052337901))
        make_face()
        with BuildLine():
            ThreePointArc((7.3575369752, 10.3516496105), (7.4648727041, 10.2745158286), (7.5713998544, 10.1962691336))
            Line((7.5713998544, 10.1962691336), (7.5666765851, 10.4146368498))
            Line((7.5666765851, 10.4146368498), (7.3575369752, 10.3516496105))
        make_face()
        with BuildLine():
            Line((-4.5233180717, -12.052337901), (-4.3384721815, -11.9359816995))
            ThreePointArc((-4.3384721815, -11.9359816995), (-4.4624602658, -11.8901828571), (-4.5859649862, -11.8430960962))
            Line((-4.5859649862, -11.8430960962), (-4.5233180717, -12.052337901))
        make_face()
        with BuildLine():
            ThreePointArc((10.5256917391, 7.1063220736), (10.5990803223, 6.9963916644), (10.6713208363, 6.8857034214))
            Line((10.6713208363, 6.8857034214), (10.7436276648, 7.0918065299))
            Line((10.7436276648, 7.0918065299), (10.5256917391, 7.1063220736))
        make_face()
        with BuildLine():
            ThreePointArc((9.0876567396, 8.8715553869), (9.1794947706, 8.7764956421), (9.2703384989, 8.6804852466))
            Line((9.2703384989, 8.6804852466), (9.3046821958, 8.8961870761))
            Line((9.3046821958, 8.8961870761), (9.0876567396, 8.8715553869))
        make_face()
        with BuildLine():
            Line((11.3360816146, -6.1002056428), (11.245590932, -5.901413779))
            ThreePointArc((11.245590932, -5.901413779), (11.1835632546, -6.0181320134), (11.1203241981, -6.134198377))
            Line((11.1203241981, -6.134198377), (11.3360816146, -6.1002056428))
        make_face()
        with BuildLine():
            ThreePointArc((11.6254223454, 5.1126857218), (11.6780027114, 4.991417902), (11.7293181417, 4.8696094227))
            Line((11.7293181417, 4.8696094227), (11.8372641008, 5.0594894867))
            Line((11.8372641008, 5.0594894867), (11.6254223454, 5.1126857218))
        make_face()
        with BuildLine():
            ThreePointArc((-12.4103255111, 2.6970021705), (-12.3815844847, 2.8260158612), (-12.3515023122, 2.9547234442))
            Line((-12.3515023122, 2.9547234442), (-12.5504411288, 2.8645562884))
            Line((-12.5504411288, 2.8645562884), (-12.4103255111, 2.6970021705))
        make_face()
        with BuildLine():
            Line((-11.3360816146, -6.1002056428), (-11.1203241981, -6.134198377))
            ThreePointArc((-11.1203241981, -6.134198377), (-11.1835632546, -6.0181320134), (-11.245590932, -5.901413779))
            Line((-11.245590932, -5.901413779), (-11.3360816146, -6.1002056428))
        make_face()
        with BuildLine():
            ThreePointArc((-7.5713998544, 10.1962691336), (-7.4648727041, 10.2745158286), (-7.3575369752, 10.3516496105))
            Line((-7.3575369752, 10.3516496105), (-7.5666765851, 10.4146368498))
            Line((-7.5666765851, 10.4146368498), (-7.5713998544, 10.1962691336))
        make_face()
        with BuildLine():
            ThreePointArc((12.3515023122, 2.9547234442), (12.3815844847, 2.8260158612), (12.4103255111, 2.6970021705))
            Line((12.4103255111, 2.6970021705), (12.5504411288, 2.8645562884))
            Line((12.5504411288, 2.8645562884), (12.3515023122, 2.9547234442))
        make_face()
        with BuildLine():
            ThreePointArc((12.6805948318, 0.7017939239), (12.6872119451, 0.5697833455), (12.6924548074, 0.4377110493))
            Line((12.6924548074, 0.4377110493), (12.8602366525, 0.577553894))
            Line((12.8602366525, 0.577553894), (12.6805948318, 0.7017939239))
        make_face()
        with BuildLine():
            ThreePointArc((3.2510736174, 12.2768285943), (3.3786679387, 12.2423283308), (3.5058962901, 12.2065020052))
            Line((3.5058962901, 12.2065020052), (3.4247452829, 12.4092858378))
            Line((3.4247452829, 12.4092858378), (3.2510736174, 12.2768285943))
        make_face()
        with BuildLine():
            Line((10.0646723422, -8.0263083607), (10.01113154, -7.8145534287))
            ThreePointArc((10.01113154, -7.8145534287), (9.9292598273, -7.9183204836), (9.8463125991, -8.0212298434))
            Line((9.8463125991, -8.0212298434), (10.0646723422, -8.0263083607))
        make_face()
        with BuildLine():
            ThreePointArc((-5.6291101888, 11.3843365412), (-5.5103234868, 11.4423046224), (-5.3909399186, 11.4990332982))
            Line((-5.3909399186, 11.4990332982), (-5.5854717631, 11.598351626))
            Line((-5.5854717631, 11.598351626), (-5.6291101888, 11.3843365412))
        make_face()
        with BuildLine():
            Line((-12.2431398966, -3.9780372961), (-12.0369194276, -4.0500087275))
            ThreePointArc((-12.0369194276, -4.0500087275), (-12.0784177569, -3.9245158286), (-12.1186077785, -3.7985978347))
            Line((-12.1186077785, -3.7985978347), (-12.2431398966, -3.9780372961))
        make_face()
        with BuildLine():
            Line((2.2985984587, -12.6663215016), (2.3976001785, -12.4716283373))
            ThreePointArc((2.3976001785, -12.4716283373), (2.2676725639, -12.4959057752), (2.1374993201, -12.518829684))
            Line((2.1374993201, -12.518829684), (2.2985984587, -12.6663215016))
        make_face()
        with BuildLine():
            Line((-6.6026545201, -11.0509822435), (-6.4000029773, -10.9695014422))
            ThreePointArc((-6.4000029773, -10.9695014422), (-6.5138208231, -10.9022996787), (-6.626933106, -10.8339170021))
            Line((-6.626933106, -10.8339170021), (-6.6026545201, -11.0509822435))
        make_face()
        with BuildLine():
            ThreePointArc((-11.7293181417, 4.8696094227), (-11.6780027114, 4.991417902), (-11.6254223454, 5.1126857218))
            Line((-11.6254223454, 5.1126857218), (-11.8372641008, 5.0594894867))
            Line((-11.8372641008, 5.0594894867), (-11.7293181417, 4.8696094227))
        make_face()
        with BuildLine():
            Line((6.6026545201, -11.0509822435), (6.626933106, -10.8339170021))
            ThreePointArc((6.626933106, -10.8339170021), (6.5138208231, -10.9022996787), (6.4000029773, -10.9695014422))
            Line((6.4000029773, -10.9695014422), (6.6026545201, -11.0509822435))
        make_face()
        with BuildLine():
            ThreePointArc((-9.2703384989, 8.6804852466), (-9.1794947706, 8.7764956421), (-9.0876567396, 8.8715553869))
            Line((-9.0876567396, 8.8715553869), (-9.3046821958, 8.8961870761))
            Line((-9.3046821958, 8.8961870761), (-9.2703384989, 8.6804852466))
        make_face()
        with BuildLine():
            Line((-10.0646723422, -8.0263083607), (-9.8463125991, -8.0212298434))
            ThreePointArc((-9.8463125991, -8.0212298434), (-9.9292598273, -7.9183204836), (-10.01113154, -7.8145534287))
            Line((-10.01113154, -7.8145534287), (-10.0646723422, -8.0263083607))
        make_face()
        with BuildLine():
            Line((-8.4697762195, -9.6944389239), (-8.2558324115, -9.6504523828))
            ThreePointArc((-8.2558324115, -9.6504523828), (-8.3558218194, -9.5640076182), (-8.4549061431, -9.4765269014))
            Line((-8.4549061431, -9.4765269014), (-8.4697762195, -9.6944389239))
        make_face()
        with BuildLine():
            ThreePointArc((-10.6713208363, 6.8857034214), (-10.5990803223, 6.9963916644), (-10.5256917391, 7.1063220736))
            Line((-10.5256917391, 7.1063220736), (-10.7436276648, 7.0918065299))
            Line((-10.7436276648, 7.0918065299), (-10.6713208363, 6.8857034214))
        make_face()
        with BuildLine():
            ThreePointArc((-1.27, 12.6363404513), (-1.1384192231, 12.6488735337), (-1.0067151351, 12.660036518))
            Line((-1.0067151351, 12.660036518), (-1.1539446714, 12.8213753924))
            Line((-1.1539446714, 12.8213753924), (-1.27, 12.6363404513))
        make_face()
        with BuildLine():
            Line((12.2431398966, -3.9780372961), (12.1186077785, -3.7985978347))
            ThreePointArc((12.1186077785, -3.7985978347), (12.0784177569, -3.9245158286), (12.0369194276, -4.0500087275))
            Line((12.0369194276, -4.0500087275), (12.2431398966, -3.9780372961))
        make_face()
        with BuildLine():
            Line((-2.2985984587, -12.6663215016), (-2.1374993201, -12.518829684))
            ThreePointArc((-2.1374993201, -12.518829684), (-2.2676725639, -12.4959057752), (-2.3976001785, -12.4716283373))
            Line((-2.3976001785, -12.4716283373), (-2.2985984587, -12.6663215016))
        make_face()
        with BuildLine():
            Line((-12.7566935886, -1.7280115577), (-12.5666381627, -1.8356484651))
            ThreePointArc((-12.5666381627, -1.8356484651), (-12.5850619745, -1.7047624759), (-12.6021225999, -1.5736918305))
            Line((-12.6021225999, -1.5736918305), (-12.7566935886, -1.7280115577))
        make_face()
        with BuildLine():
            Line((8.4697762195, -9.6944389239), (8.4549061431, -9.4765269014))
            ThreePointArc((8.4549061431, -9.4765269014), (8.3558218194, -9.5640076182), (8.2558324115, -9.6504523828))
            Line((8.2558324115, -9.6504523828), (8.4697762195, -9.6944389239))
        make_face()
        with BuildLine():
            Line((0, -12.8731991074), (0.1321745283, -12.6993121819))
            ThreePointArc((0.1321745283, -12.6993121819), (0, -12.7), (-0.1321745283, -12.6993121819))
            Line((-0.1321745283, -12.6993121819), (0, -12.8731991074))
        make_face()
        with BuildLine():
            Line((12.7566935886, -1.7280115577), (12.6021225999, -1.5736918305))
            ThreePointArc((12.6021225999, -1.5736918305), (12.5850619745, -1.7047624759), (12.5666381627, -1.8356484651))
            Line((12.5666381627, -1.8356484651), (12.7566935886, -1.7280115577))
        make_face()
        with BuildLine():
            ThreePointArc((-3.5058962901, 12.2065020052), (-3.3786679387, 12.2423283308), (-3.2510736174, 12.2768285943))
            Line((-3.2510736174, 12.2768285943), (-3.4247452829, 12.4092858378))
            Line((-3.4247452829, 12.4092858378), (-3.5058962901, 12.2065020052))
        make_face()
        with BuildLine():
            ThreePointArc((-12.6924548074, 0.4377110493), (-12.6872119451, 0.5697833455), (-12.6805948318, 0.7017939239))
            Line((-12.6805948318, 0.7017939239), (-12.8602366525, 0.577553894))
            Line((-12.8602366525, 0.577553894), (-12.6924548074, 0.4377110493))
        make_face()
        with BuildLine():
            ThreePointArc((1.0067151351, 12.660036518), (1.1384192231, 12.6488735337), (1.27, 12.6363404513))
            Line((1.27, 12.6363404513), (1.1539446714, 12.8213753924))
            Line((1.1539446714, 12.8213753924), (1.0067151351, 12.660036518))
        make_face()
    extrude(amount=F1_DEPTH)

    # F2 (on face) → F3 (cut)
    with BuildSketch(Plane(origin=(0, 0, 0), x_dir=(1, 0, 0), z_dir=(0, 0, -1))):
        Circle(F2_R)
    extrude(amount=-F3_DEPTH, mode=Mode.SUBTRACT)


solid = f1.part
